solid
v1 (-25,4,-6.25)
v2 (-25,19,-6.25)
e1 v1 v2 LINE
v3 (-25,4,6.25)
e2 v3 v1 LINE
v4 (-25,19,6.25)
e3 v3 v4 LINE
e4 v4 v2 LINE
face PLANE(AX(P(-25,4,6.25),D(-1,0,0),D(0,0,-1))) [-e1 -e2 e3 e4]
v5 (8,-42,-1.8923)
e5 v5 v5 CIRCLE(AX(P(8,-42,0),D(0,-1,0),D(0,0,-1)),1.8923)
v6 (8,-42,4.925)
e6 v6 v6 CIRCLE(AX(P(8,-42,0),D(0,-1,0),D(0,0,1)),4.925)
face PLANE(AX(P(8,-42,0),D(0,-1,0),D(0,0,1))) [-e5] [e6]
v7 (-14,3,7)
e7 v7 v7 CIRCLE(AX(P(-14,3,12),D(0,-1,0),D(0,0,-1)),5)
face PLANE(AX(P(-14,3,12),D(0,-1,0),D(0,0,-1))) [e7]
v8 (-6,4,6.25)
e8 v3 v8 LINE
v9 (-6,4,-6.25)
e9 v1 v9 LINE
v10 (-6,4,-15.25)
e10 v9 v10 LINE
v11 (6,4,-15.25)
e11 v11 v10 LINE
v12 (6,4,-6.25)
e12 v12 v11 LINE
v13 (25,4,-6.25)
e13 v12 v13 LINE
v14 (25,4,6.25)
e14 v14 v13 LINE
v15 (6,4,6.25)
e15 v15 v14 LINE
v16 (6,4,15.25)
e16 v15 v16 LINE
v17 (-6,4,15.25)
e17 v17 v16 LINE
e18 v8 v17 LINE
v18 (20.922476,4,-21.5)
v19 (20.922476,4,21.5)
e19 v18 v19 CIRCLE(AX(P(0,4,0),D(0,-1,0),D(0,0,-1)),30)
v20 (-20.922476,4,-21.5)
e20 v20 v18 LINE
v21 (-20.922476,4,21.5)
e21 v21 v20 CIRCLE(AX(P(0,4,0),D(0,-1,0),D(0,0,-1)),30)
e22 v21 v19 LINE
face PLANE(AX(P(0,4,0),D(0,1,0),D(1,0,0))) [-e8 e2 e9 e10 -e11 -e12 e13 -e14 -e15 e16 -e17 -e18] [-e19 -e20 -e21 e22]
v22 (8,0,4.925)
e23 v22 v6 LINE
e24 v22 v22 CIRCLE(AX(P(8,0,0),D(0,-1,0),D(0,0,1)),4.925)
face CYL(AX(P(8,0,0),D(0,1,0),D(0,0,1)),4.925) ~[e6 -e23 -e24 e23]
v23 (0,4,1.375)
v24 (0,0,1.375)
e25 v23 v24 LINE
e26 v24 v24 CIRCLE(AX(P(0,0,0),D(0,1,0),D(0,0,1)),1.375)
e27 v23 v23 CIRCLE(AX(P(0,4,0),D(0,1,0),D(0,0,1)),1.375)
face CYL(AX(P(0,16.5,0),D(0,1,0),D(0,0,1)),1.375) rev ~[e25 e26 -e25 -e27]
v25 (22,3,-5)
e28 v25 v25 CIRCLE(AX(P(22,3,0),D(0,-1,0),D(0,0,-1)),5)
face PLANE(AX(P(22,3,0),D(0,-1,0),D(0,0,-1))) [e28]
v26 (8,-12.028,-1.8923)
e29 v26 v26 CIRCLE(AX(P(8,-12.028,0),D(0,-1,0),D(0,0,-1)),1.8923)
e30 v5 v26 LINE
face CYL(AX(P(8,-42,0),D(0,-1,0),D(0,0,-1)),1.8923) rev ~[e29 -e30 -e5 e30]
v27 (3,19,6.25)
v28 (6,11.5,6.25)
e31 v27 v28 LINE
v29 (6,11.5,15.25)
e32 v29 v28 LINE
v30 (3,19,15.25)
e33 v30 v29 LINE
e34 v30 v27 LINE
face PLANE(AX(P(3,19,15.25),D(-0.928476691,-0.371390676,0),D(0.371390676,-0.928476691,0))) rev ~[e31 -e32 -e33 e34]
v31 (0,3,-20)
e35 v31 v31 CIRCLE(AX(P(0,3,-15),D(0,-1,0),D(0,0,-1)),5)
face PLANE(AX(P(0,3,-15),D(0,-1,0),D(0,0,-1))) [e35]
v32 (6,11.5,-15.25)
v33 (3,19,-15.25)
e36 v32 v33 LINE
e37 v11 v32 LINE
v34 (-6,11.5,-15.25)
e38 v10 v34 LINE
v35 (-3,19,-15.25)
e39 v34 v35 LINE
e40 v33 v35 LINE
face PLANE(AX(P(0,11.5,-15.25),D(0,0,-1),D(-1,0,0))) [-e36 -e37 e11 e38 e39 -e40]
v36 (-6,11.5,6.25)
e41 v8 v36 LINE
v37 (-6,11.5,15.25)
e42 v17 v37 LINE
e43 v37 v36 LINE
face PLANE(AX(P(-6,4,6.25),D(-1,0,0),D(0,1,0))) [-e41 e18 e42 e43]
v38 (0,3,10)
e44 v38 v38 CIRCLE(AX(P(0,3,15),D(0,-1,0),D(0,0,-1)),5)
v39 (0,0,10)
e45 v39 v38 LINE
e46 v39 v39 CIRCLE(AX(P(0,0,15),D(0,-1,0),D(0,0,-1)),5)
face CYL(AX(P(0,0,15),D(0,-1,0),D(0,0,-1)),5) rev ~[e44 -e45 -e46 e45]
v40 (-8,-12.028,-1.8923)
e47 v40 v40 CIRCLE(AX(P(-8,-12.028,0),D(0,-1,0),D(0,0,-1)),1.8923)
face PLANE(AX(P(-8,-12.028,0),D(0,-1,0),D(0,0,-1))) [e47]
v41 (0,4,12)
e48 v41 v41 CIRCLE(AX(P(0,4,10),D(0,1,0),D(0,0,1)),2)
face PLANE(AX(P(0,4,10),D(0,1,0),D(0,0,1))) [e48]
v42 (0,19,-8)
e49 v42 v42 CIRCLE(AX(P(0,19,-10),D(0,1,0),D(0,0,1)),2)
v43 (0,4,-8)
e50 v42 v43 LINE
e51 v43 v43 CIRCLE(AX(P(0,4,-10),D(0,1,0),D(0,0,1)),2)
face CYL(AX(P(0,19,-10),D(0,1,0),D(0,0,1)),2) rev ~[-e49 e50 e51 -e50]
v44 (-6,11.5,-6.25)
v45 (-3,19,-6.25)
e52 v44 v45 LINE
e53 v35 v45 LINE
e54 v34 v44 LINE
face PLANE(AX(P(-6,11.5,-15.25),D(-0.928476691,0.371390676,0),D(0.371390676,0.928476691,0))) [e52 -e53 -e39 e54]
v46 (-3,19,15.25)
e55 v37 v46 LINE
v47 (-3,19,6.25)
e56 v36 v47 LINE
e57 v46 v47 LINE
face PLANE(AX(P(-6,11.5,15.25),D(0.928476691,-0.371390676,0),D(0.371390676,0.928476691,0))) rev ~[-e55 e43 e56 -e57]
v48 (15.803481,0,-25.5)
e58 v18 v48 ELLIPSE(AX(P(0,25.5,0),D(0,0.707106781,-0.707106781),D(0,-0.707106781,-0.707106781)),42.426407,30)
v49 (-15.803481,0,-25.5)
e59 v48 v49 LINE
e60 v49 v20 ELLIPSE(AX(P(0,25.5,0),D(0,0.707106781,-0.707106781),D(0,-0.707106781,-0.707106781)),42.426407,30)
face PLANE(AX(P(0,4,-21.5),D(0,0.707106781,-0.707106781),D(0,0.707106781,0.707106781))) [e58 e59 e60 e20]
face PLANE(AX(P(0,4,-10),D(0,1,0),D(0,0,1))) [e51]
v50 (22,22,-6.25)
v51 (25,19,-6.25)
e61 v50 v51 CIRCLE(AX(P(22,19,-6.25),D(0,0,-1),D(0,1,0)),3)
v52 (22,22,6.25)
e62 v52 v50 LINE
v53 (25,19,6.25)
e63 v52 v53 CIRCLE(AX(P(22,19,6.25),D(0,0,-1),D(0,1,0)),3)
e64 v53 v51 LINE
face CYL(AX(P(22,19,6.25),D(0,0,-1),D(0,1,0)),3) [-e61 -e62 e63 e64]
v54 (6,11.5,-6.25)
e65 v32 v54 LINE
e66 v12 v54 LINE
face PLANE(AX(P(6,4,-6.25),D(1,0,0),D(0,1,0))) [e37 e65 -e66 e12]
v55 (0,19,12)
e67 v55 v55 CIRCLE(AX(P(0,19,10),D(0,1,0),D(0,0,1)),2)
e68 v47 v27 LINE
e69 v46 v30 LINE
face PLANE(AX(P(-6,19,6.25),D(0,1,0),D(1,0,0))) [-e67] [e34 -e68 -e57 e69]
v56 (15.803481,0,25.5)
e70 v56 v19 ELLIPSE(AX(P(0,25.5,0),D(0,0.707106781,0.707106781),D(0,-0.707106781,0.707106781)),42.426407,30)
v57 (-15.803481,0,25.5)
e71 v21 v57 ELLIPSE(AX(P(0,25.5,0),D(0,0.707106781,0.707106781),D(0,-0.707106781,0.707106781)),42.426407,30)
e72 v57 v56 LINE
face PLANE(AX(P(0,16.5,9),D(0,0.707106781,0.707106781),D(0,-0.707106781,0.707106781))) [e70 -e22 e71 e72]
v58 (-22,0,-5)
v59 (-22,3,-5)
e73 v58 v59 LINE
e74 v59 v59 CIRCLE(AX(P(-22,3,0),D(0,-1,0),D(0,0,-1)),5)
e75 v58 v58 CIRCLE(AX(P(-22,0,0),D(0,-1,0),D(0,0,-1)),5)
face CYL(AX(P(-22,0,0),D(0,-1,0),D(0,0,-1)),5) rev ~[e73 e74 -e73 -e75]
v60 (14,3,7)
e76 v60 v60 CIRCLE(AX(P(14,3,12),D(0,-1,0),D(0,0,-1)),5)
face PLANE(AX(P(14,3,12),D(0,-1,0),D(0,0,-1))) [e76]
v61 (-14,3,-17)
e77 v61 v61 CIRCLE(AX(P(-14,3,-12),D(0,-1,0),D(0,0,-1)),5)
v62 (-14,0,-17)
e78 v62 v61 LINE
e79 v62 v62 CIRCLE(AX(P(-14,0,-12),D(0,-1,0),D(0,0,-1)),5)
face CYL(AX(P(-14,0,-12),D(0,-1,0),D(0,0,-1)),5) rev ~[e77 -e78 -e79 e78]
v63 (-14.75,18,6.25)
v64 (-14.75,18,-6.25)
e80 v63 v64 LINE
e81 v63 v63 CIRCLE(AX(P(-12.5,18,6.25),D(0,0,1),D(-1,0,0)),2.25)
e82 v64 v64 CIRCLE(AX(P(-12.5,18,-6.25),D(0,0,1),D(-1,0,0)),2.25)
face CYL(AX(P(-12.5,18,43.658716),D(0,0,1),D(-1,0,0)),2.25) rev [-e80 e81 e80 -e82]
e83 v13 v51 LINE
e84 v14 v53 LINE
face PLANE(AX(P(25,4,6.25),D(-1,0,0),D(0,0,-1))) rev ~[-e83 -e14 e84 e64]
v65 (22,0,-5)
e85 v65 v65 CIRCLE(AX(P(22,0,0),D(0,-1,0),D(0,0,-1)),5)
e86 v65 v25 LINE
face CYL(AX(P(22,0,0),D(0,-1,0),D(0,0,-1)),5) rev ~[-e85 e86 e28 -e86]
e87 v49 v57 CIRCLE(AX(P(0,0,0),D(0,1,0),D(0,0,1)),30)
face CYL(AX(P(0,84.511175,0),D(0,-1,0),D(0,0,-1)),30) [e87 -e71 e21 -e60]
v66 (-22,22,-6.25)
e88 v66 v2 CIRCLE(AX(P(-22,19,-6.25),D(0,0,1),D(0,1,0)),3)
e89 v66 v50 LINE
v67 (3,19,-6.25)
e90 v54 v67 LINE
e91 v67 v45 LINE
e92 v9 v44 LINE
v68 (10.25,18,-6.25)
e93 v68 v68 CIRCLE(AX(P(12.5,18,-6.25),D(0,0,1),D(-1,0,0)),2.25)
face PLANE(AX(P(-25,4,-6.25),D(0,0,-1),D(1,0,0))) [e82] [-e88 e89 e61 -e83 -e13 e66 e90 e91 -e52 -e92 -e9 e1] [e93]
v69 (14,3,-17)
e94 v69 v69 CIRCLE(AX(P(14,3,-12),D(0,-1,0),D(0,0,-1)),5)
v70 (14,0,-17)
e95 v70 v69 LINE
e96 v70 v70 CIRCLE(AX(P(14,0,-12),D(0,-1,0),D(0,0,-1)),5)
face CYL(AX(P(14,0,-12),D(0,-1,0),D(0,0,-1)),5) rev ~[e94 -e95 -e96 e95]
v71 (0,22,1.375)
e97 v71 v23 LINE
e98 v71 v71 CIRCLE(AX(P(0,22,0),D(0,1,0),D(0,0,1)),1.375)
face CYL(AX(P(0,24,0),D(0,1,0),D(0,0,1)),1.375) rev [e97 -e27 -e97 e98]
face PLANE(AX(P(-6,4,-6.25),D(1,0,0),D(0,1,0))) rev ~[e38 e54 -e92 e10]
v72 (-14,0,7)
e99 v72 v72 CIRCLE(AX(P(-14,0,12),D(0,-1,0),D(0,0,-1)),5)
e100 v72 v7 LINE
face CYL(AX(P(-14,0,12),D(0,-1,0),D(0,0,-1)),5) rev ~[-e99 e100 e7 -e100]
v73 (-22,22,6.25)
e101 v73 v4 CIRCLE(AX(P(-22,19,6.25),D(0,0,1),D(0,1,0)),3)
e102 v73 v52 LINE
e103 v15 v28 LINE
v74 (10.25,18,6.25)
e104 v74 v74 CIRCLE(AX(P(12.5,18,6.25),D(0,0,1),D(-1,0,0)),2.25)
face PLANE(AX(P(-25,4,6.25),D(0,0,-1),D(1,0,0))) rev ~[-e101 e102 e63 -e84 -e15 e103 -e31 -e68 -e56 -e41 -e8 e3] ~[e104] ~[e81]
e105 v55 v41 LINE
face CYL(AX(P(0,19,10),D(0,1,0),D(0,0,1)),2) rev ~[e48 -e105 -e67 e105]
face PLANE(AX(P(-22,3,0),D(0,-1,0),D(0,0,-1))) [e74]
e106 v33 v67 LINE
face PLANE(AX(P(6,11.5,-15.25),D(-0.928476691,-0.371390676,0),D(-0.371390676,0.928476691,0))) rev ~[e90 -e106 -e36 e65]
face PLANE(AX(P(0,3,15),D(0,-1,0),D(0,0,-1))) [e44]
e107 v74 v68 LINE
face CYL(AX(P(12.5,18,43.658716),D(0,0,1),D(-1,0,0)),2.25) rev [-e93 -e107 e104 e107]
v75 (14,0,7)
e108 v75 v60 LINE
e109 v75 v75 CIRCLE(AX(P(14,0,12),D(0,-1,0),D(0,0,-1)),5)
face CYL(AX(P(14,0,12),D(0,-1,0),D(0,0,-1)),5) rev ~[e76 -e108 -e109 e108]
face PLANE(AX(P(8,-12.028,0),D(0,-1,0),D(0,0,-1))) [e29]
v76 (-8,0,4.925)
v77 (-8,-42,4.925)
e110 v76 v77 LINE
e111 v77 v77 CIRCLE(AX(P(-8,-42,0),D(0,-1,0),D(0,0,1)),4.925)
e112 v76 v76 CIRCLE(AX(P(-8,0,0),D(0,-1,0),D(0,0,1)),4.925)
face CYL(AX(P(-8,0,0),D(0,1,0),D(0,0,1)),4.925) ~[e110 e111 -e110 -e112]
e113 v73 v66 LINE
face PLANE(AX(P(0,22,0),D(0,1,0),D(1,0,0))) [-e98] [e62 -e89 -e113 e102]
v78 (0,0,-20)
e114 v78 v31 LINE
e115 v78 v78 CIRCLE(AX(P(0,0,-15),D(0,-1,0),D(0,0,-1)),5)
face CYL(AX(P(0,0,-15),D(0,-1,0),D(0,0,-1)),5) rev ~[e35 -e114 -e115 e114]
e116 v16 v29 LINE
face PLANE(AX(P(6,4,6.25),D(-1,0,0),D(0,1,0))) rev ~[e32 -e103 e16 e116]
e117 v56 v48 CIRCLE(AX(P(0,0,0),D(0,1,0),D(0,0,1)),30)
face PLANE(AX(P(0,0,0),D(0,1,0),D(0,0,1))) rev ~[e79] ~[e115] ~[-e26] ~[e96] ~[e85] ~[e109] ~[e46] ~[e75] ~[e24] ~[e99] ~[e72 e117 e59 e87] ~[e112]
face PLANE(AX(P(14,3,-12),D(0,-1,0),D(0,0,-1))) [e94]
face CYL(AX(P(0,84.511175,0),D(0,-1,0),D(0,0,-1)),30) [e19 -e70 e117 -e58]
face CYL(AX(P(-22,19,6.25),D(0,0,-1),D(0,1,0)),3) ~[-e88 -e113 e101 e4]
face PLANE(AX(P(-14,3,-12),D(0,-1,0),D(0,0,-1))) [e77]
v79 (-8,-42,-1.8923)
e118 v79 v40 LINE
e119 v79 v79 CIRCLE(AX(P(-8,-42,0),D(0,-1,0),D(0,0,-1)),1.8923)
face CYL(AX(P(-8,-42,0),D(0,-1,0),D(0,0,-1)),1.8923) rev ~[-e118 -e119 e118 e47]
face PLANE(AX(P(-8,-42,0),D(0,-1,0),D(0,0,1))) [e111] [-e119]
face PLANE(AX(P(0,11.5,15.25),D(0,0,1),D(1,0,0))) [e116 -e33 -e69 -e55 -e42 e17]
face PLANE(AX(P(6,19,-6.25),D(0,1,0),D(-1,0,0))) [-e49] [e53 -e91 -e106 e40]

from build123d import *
from build123d.topology import SkipClean

# Parameters (mm, degrees)
SKETCH1_R                            = 30
BOSS_EXTRUDE1_DEPTH                  = 4
BOSS_EXTRUDE2_REACH                  = 44.615
BOSS_EXTRUDE2_END_RADIUS             = 30
BOSS_EXTRUDE2_DIRECTION_2_REACH      = 44.615
BOSS_EXTRUDE2_DIRECTION_2_END_RADIUS = 30
SKETCH3_OUTSIDE_W                    = 78.092
SKETCH3_OUTSIDE_H                    = 69.092
SKETCH3_OUTSIDE_R                    = 21.5
CUT_EXTRUDE2_DEPTH                   = 12.5
BOSS_EXTRUDE3_DEPTH                  = 18
BOSS_EXTRUDE4_DEPTH                  = 15
BOSS_EXTRUDE5_DEPTH                  = 15
CUT_EXTRUDE3_DEPTH                   = 44.292609069
CUT_EXTRUDE3_DEPTH_BACK              = 44.292609069
SKETCH8_R                            = 2
CUT_EXTRUDE8_DEPTH                   = 48.077064479
CUT_EXTRUDE8_DEPTH_BACK              = 48.077064479
CUT_EXTRUDE9_DEPTH                   = 59.659818207
CUT_EXTRUDE11_DEPTH                  = 20
CUT_EXTRUDE12_DEPTH                  = 20
CUT_EXTRUDE13_DEPTH                  = 20
CUT_EXTRUDE14_DEPTH                  = 44.292609069
CUT_EXTRUDE14_DEPTH_BACK             = 44.292609069
SKETCH25_W                           = 66.075437062
SKETCH25_H                           = 20.142243048
SKETCH27_R                           = 1.375
CUT_EXTRUDE16_DEPTH                  = 30
SKETCH28_R                           = 5
CUT_EXTRUDE17_DEPTH                  = 3
CUT_EXTRUDE18_DEPTH                  = 43.690748412
CUT_EXTRUDE18_DEPTH_BACK             = 43.690748412
SKETCH29_W                           = 43.412566799
SKETCH29_H                           = 13.326200919
SKETCH32_W                           = 50
SKETCH32_H                           = 12.5
BOSS_EXTRUDE6_DEPTH                  = 18
SKETCH35_W                           = 12
SKETCH35_H                           = 15
BOSS_EXTRUDE7_DEPTH                  = 9
CUT_EXTRUDE19_DEPTH                  = 49.908715992
CUT_EXTRUDE19_DEPTH_BACK             = 49.908715992
SKETCH37_R                           = 2.25
SKETCH36_R                           = 2
CUT_EXTRUDE20_DEPTH                  = 15
SKETCH39_W                           = 12
SKETCH39_H                           = 15
BOSS_EXTRUDE8_DEPTH                  = 9
SKETCH40_R                           = 2
CUT_EXTRUDE21_DEPTH                  = 15
FILLET1_R                            = 3
FILLET2_R                            = 3
CUT_EXTRUDE24_START                  = -20
SKETCH44_R                           = 1.375
CUT_EXTRUDE24_DEPTH                  = 20
SKETCH45_R                           = 4.925
BOSS_EXTRUDE9_DEPTH                  = 42
SKETCH46_R                           = 1.8923
CUT_EXTRUDE25_DEPTH                  = 29.972
SKETCH47_R                           = 1.8923
CUT_EXTRUDE26_DEPTH                  = 29.972
CUT_EXTRUDE32_DEPTH                  = 9
CUT_EXTRUDE33_DEPTH                  = 9
CUT_EXTRUDE34_DEPTH                  = 9
CUT_EXTRUDE35_DEPTH                  = 9


with BuildPart() as part:
    # Sketch1 → Boss-Extrude1 (new body)
    with BuildSketch(Plane(origin=(0, 0, 0), x_dir=(1, 0, 0), z_dir=(0, 1, 0))):
        with Locations(Location((0, 0, 0), (0, 0, 270))):
            Circle(SKETCH1_R)
    extrude(amount=BOSS_EXTRUDE1_DEPTH)

    # Boss-Extrude2: up to this cylinder (the profile starts inside it)
    with SkipClean():  # the faces are left unmerged after this step: merging them gives an invalid solid
        boss_extrude2_end = Plane(origin=(0, 9.396175, 0), z_dir=(0, -1, 0)) * Cylinder(BOSS_EXTRUDE2_END_RADIUS, 150.23, mode=Mode.PRIVATE)
        # Sketch2 → Boss-Extrude2 (add, up to the surface)
        with BuildSketch(Plane(origin=(0, 0, 0), x_dir=(0, 0, -1), z_dir=(1, 0, 0)), mode=Mode.PRIVATE) as boss_extrude2_sk1:
            Polygon((0, 4), (21.5, 4), (9, 16.5), (-9, 16.5), (-21.5, 4), align=None)
        boss_extrude2_tool1 = extrude(boss_extrude2_sk1.sketch, amount=BOSS_EXTRUDE2_REACH, mode=Mode.PRIVATE) & boss_extrude2_end
        add(boss_extrude2_tool1.solids().sort_by_distance((0, 9.396175, 0))[0])

    # Boss-Extrude2 direction 2: up to this cylinder (the profile starts inside it)
    with SkipClean():  # the faces are left unmerged after this step: merging them gives an invalid solid
        boss_extrude2_direction_2_end = Plane(origin=(0, 9.396175, 0), z_dir=(0, -1, 0)) * Cylinder(BOSS_EXTRUDE2_DIRECTION_2_END_RADIUS, 150.23, mode=Mode.PRIVATE)
        # Sketch2 → Boss-Extrude2 direction 2 (add, up to the surface)
        with BuildSketch(Plane(origin=(0, 0, 0), x_dir=(0, 0, -1), z_dir=(1, 0, 0)), mode=Mode.PRIVATE) as boss_extrude2_direction_2_sk1:
            Polygon((0, 4), (21.5, 4), (9, 16.5), (-9, 16.5), (-21.5, 4), align=None)
        boss_extrude2_direction_2_tool1 = extrude(boss_extrude2_direction_2_sk1.sketch, amount=-BOSS_EXTRUDE2_DIRECTION_2_REACH, mode=Mode.PRIVATE) & boss_extrude2_direction_2_end
        add(boss_extrude2_direction_2_tool1.solids().sort_by_distance((0, 9.396175, 0))[0])

    # SurfaceCut1
    split(bisect_by=Plane(origin=(0, 12.75, -12.75), x_dir=(1, 0, 0), z_dir=(0, 0.7071067811865558, -0.7071067811865392)), keep=Keep.BOTTOM)

    # SurfaceCut2
    split(bisect_by=Plane(origin=(0, 12.75, 12.75), x_dir=(1, 0, 0), z_dir=(0, 0.7071067811865509, 0.7071067811865442)), keep=Keep.BOTTOM)

    # Sketch3 outside → Cut-Extrude2 (cut)
    with BuildSketch(Plane(origin=(0, 4, 0), x_dir=(1, 0, 0), z_dir=(0, 1, 0))):
        Rectangle(SKETCH3_OUTSIDE_W, SKETCH3_OUTSIDE_H)
        Circle(SKETCH3_OUTSIDE_R, mode=Mode.SUBTRACT)
    extrude(amount=CUT_EXTRUDE2_DEPTH, mode=Mode.SUBTRACT)

    # Sketch5 → Boss-Extrude3 (add)
    with BuildSketch(Plane(origin=(0, 0, 0), x_dir=(-1, 0, 0), z_dir=(0, -1, 0))):
        Polygon((0, -6), (-17.5, -6), (-17.5, 6), (17.5, 6), (17.5, -6), align=None)
    extrude(amount=BOSS_EXTRUDE3_DEPTH)

    # Sketch6 → Boss-Extrude4 (add)
    with BuildSketch(Plane.XZ):
        Polygon((0, 15), (7, 15), (7, 6), (-7, 6), (-7, 15), align=None)
    extrude(amount=BOSS_EXTRUDE4_DEPTH)

    # Sketch7 → Boss-Extrude5 (add)
    with BuildSketch(Plane.XZ):
        Polygon((0, -15), (7, -15), (7, -6), (-7, -6), (-7, -15), align=None)
    extrude(amount=BOSS_EXTRUDE5_DEPTH)

    # Sketch8 → Cut-Extrude3 (cut, two sides: drawn at the far end of the back side and taken through both)
    with BuildSketch(Plane.XY.offset(-CUT_EXTRUDE3_DEPTH_BACK)):
        with Locations((-12.5, -12.5)):
            Circle(SKETCH8_R)
        with Locations((12.5, -12.5)):
            Circle(SKETCH8_R)
    extrude(amount=CUT_EXTRUDE3_DEPTH + CUT_EXTRUDE3_DEPTH_BACK, mode=Mode.SUBTRACT)

    # Sketch16 → Cut-Extrude8 (cut, two sides: drawn at the far end of the back side and taken through both)
    with BuildSketch(Plane.XY.offset(6).offset(-CUT_EXTRUDE8_DEPTH_BACK)):
        Polygon((17.5, -18), (17.5, -14.5), (14, -18), align=None)
        Polygon((-17.5, -18), (-14, -18), (-17.5, -14.5), align=None)
    extrude(amount=CUT_EXTRUDE8_DEPTH + CUT_EXTRUDE8_DEPTH_BACK, mode=Mode.SUBTRACT)

    # Sketch17 → Cut-Extrude9 (cut, through all)
    with BuildSketch(Plane(origin=(10.365975269, -9.674910251, -8.062425209), x_dir=(-0.3613483622370374, 0.337258471421235, -0.8693009171531012), z_dir=(0.6355070151731325, -0.5931398808282571, -0.49428323402354774))):
        Polygon((-2.372510104, -6.189601271), (7.980636686, -0.706686759), (7.980636686, -10.965829024), align=None)
    extrude(amount=CUT_EXTRUDE9_DEPTH, mode=Mode.SUBTRACT)

    # Sketch19 → Cut-Extrude11 (cut)
    with BuildSketch(Plane(origin=(-10.365975269, -9.674910251, -8.062425209), x_dir=(0.3613483622370374, 0.33725847142123494, -0.8693009171531012), z_dir=(0.6355070151731324, 0.5931398808282571, 0.4942832340235476))):
        Polygon((-2.372510104, -6.189601271), (7.980636686, -10.965829024), (7.980636686, -0.706686759), align=None)
    extrude(amount=-CUT_EXTRUDE11_DEPTH, mode=Mode.SUBTRACT)

    # Sketch20 → Cut-Extrude12 (cut)
    with BuildSketch(Plane(origin=(-10.365975269, -9.674910251, 8.062425209), x_dir=(-0.3613483622370374, -0.3372584714212349, -0.8693009171531013), z_dir=(0.6355070151731326, 0.593139880828257, -0.49428323402354757))):
        Polygon((2.372510104, -6.189601271), (-7.980636686, -0.706686759), (-7.980636686, -10.965829024), align=None)
    extrude(amount=-CUT_EXTRUDE12_DEPTH, mode=Mode.SUBTRACT)

    # Sketch21 → Cut-Extrude13 (cut)
    with BuildSketch(Plane(origin=(10.365975269, -9.674910251, 8.062425209), x_dir=(-0.3613483622370374, 0.3372584714212349, 0.8693009171531013), z_dir=(-0.6355070151731326, 0.593139880828257, -0.49428323402354757))):
        Polygon((-2.372510104, -6.189601271), (7.980636686, -0.706686759), (7.980636686, -10.965829024), align=None)
    extrude(amount=-CUT_EXTRUDE13_DEPTH, mode=Mode.SUBTRACT)

    # Sketch25 → Cut-Extrude14 (cut, two sides: drawn at the far end of the back side and taken through both)
    with BuildSketch(Plane.XY.offset(-CUT_EXTRUDE14_DEPTH_BACK)):
        with Locations((0, -10.071121524)):
            Rectangle(SKETCH25_W, SKETCH25_H)
    extrude(amount=CUT_EXTRUDE14_DEPTH + CUT_EXTRUDE14_DEPTH_BACK, mode=Mode.SUBTRACT)

    # Sketch27 → Cut-Extrude16 (cut)
    with BuildSketch(Plane(origin=(0, 16.5, 0), x_dir=(1, 0, 0), z_dir=(0, 1, 0))):
        with Locations(Location((0, 0, 0), (0, 0, 270))):
            Circle(SKETCH27_R)
    extrude(amount=-CUT_EXTRUDE16_DEPTH, mode=Mode.SUBTRACT)

    # Sketch28 → Cut-Extrude17 (cut)
    with BuildSketch(Plane.XZ):
        with Locations(Location((0, -15, 0), (0, 0, 270))):
            Circle(SKETCH28_R)
        with Locations(Location((22, 0, 0), (0, 0, 270))):
            Circle(SKETCH28_R)
        with Locations(Location((0, 15, 0), (0, 0, 270))):
            Circle(SKETCH28_R)
        with Locations(Location((-22, 0, 0), (0, 0, 270))):
            Circle(SKETCH28_R)
        with Locations(Location((-14, 12, 0), (0, 0, 270))):
            Circle(SKETCH28_R)
        with Locations(Location((14, 12, 0), (0, 0, 270))):
            Circle(SKETCH28_R)
        with Locations(Location((14, -12, 0), (0, 0, 270))):
            Circle(SKETCH28_R)
        with Locations(Location((-14, -12, 0), (0, 0, 270))):
            Circle(SKETCH28_R)
    extrude(amount=-CUT_EXTRUDE17_DEPTH, mode=Mode.SUBTRACT)

    # Sketch29 → Cut-Extrude18 (cut, two sides: drawn at the far end of the back side and taken through both)
    with BuildSketch(Plane(origin=(0, 0, 0), x_dir=(0, 0, -1), z_dir=(1, 0, 0)).offset(-CUT_EXTRUDE18_DEPTH_BACK)):
        with Locations((0.2062834, 10.66310046)):
            Rectangle(SKETCH29_W, SKETCH29_H)
    extrude(amount=CUT_EXTRUDE18_DEPTH + CUT_EXTRUDE18_DEPTH_BACK, mode=Mode.SUBTRACT)

    # Sketch32 → Boss-Extrude6 (add)
    with BuildSketch(Plane(origin=(0, 4, 0), x_dir=(1, 0, 0), z_dir=(0, 1, 0))):
        Rectangle(SKETCH32_W, SKETCH32_H)
    extrude(amount=BOSS_EXTRUDE6_DEPTH)

    # Sketch35 → Boss-Extrude7 (add)
    with BuildSketch(Plane(origin=(0, 0, -6.25), x_dir=(-1, 0, 0), z_dir=(0, 0, -1))):
        with Locations((0, 11.5)):
            Rectangle(SKETCH35_W, SKETCH35_H)
    extrude(amount=BOSS_EXTRUDE7_DEPTH)

    # Sketch37 → Cut-Extrude19 (cut, two sides: drawn at the far end of the back side and taken through both)
    with BuildSketch(Plane(origin=(0, 0, -6.25), x_dir=(-1, 0, 0), z_dir=(0, 0, -1)).offset(-CUT_EXTRUDE19_DEPTH_BACK)):
        with Locations((-12.5, 18)):
            Circle(SKETCH37_R)
        with Locations((12.5, 18)):
            Circle(SKETCH37_R)
    extrude(amount=CUT_EXTRUDE19_DEPTH + CUT_EXTRUDE19_DEPTH_BACK, mode=Mode.SUBTRACT)

    # Sketch36 → Cut-Extrude20 (cut)
    with BuildSketch(Plane(origin=(0, 19, 0), x_dir=(1, 0, 0), z_dir=(0, 1, 0))):
        with Locations(Location((0, 10, 0), (0, 0, 270))):
            Circle(SKETCH36_R)
    extrude(amount=-CUT_EXTRUDE20_DEPTH, mode=Mode.SUBTRACT)

    # Sketch39 → Boss-Extrude8 (add)
    with BuildSketch(Plane.XY.offset(6.25)):
        with Locations((0, 11.5)):
            Rectangle(SKETCH39_W, SKETCH39_H)
    extrude(amount=BOSS_EXTRUDE8_DEPTH)

    # Sketch40 → Cut-Extrude21 (cut)
    with BuildSketch(Plane(origin=(0, 19, 0), x_dir=(1, 0, 0), z_dir=(0, 1, 0))):
        with Locations(Location((0, -10, 0), (0, 0, 270))):
            Circle(SKETCH40_R)
    extrude(amount=-CUT_EXTRUDE21_DEPTH, mode=Mode.SUBTRACT)

    # Fillet1
    fillet1_edges = [part.edges().sort_by_distance(p)[0] for p in [
        (25, 22, 0),
    ]]
    fillet(fillet1_edges, radius=FILLET1_R)

    # Fillet2
    fillet2_edges = [part.edges().sort_by_distance(p)[0] for p in [
        (-25, 22, 0),
    ]]
    fillet(fillet2_edges, radius=FILLET2_R)

    # Sketch44 → Cut-Extrude24 (cut)
    with BuildSketch(Plane.XZ.offset(-4).offset(CUT_EXTRUDE24_START)):
        with Locations(Location((0, 0, 0), (0, 0, 90))):
            Circle(SKETCH44_R)
    extrude(amount=CUT_EXTRUDE24_DEPTH, mode=Mode.SUBTRACT)

    # Sketch45 → Boss-Extrude9 (add)
    with BuildSketch(Plane.XZ):
        with Locations(Location((-8, 0, 0), (0, 0, 90))):
            Circle(SKETCH45_R)
        with Locations(Location((8, 0, 0), (0, 0, 90))):
            Circle(SKETCH45_R)
    extrude(amount=BOSS_EXTRUDE9_DEPTH)

    # Sketch46 → Cut-Extrude25 (cut)
    with BuildSketch(Plane.XZ.offset(42)):
        with Locations(Location((-8, 0, 0), (0, 0, 270))):
            Circle(SKETCH46_R)
    extrude(amount=-CUT_EXTRUDE25_DEPTH, mode=Mode.SUBTRACT)

    # Sketch47 → Cut-Extrude26 (cut)
    with BuildSketch(Plane.XZ.offset(42)):
        with Locations(Location((8, 0, 0), (0, 0, 270))):
            Circle(SKETCH47_R)
    extrude(amount=-CUT_EXTRUDE26_DEPTH, mode=Mode.SUBTRACT)

    # Sketch58 → Cut-Extrude32 (cut)
    with BuildSketch(Plane(origin=(0, 0, -15.25), x_dir=(-1, 0, 0), z_dir=(0, 0, -1))):
        Polygon((6, 19), (6, 11.5), (3, 19), align=None)
    extrude(amount=-CUT_EXTRUDE32_DEPTH, mode=Mode.SUBTRACT)

    # Sketch59 → Cut-Extrude33 (cut)
    with BuildSketch(Plane(origin=(0, 0, -15.25), x_dir=(-1, 0, 0), z_dir=(0, 0, -1))):
        Polygon((-6, 19), (-6, 11.5), (-3, 19), align=None)
    extrude(amount=-CUT_EXTRUDE33_DEPTH, mode=Mode.SUBTRACT)

    # Sketch60 → Cut-Extrude34 (cut)
    with BuildSketch(Plane.XY.offset(15.25)):
        Polygon((6, 11.5), (6, 19), (3, 19), align=None)
    extrude(amount=-CUT_EXTRUDE34_DEPTH, mode=Mode.SUBTRACT)

    # Sketch61 → Cut-Extrude35 (cut)
    with BuildSketch(Plane.XY.offset(15.25)):
        Polygon((-6, 19), (-6, 11.5), (-3, 19), align=None)
    extrude(amount=-CUT_EXTRUDE35_DEPTH, mode=Mode.SUBTRACT)


solid = part.part
